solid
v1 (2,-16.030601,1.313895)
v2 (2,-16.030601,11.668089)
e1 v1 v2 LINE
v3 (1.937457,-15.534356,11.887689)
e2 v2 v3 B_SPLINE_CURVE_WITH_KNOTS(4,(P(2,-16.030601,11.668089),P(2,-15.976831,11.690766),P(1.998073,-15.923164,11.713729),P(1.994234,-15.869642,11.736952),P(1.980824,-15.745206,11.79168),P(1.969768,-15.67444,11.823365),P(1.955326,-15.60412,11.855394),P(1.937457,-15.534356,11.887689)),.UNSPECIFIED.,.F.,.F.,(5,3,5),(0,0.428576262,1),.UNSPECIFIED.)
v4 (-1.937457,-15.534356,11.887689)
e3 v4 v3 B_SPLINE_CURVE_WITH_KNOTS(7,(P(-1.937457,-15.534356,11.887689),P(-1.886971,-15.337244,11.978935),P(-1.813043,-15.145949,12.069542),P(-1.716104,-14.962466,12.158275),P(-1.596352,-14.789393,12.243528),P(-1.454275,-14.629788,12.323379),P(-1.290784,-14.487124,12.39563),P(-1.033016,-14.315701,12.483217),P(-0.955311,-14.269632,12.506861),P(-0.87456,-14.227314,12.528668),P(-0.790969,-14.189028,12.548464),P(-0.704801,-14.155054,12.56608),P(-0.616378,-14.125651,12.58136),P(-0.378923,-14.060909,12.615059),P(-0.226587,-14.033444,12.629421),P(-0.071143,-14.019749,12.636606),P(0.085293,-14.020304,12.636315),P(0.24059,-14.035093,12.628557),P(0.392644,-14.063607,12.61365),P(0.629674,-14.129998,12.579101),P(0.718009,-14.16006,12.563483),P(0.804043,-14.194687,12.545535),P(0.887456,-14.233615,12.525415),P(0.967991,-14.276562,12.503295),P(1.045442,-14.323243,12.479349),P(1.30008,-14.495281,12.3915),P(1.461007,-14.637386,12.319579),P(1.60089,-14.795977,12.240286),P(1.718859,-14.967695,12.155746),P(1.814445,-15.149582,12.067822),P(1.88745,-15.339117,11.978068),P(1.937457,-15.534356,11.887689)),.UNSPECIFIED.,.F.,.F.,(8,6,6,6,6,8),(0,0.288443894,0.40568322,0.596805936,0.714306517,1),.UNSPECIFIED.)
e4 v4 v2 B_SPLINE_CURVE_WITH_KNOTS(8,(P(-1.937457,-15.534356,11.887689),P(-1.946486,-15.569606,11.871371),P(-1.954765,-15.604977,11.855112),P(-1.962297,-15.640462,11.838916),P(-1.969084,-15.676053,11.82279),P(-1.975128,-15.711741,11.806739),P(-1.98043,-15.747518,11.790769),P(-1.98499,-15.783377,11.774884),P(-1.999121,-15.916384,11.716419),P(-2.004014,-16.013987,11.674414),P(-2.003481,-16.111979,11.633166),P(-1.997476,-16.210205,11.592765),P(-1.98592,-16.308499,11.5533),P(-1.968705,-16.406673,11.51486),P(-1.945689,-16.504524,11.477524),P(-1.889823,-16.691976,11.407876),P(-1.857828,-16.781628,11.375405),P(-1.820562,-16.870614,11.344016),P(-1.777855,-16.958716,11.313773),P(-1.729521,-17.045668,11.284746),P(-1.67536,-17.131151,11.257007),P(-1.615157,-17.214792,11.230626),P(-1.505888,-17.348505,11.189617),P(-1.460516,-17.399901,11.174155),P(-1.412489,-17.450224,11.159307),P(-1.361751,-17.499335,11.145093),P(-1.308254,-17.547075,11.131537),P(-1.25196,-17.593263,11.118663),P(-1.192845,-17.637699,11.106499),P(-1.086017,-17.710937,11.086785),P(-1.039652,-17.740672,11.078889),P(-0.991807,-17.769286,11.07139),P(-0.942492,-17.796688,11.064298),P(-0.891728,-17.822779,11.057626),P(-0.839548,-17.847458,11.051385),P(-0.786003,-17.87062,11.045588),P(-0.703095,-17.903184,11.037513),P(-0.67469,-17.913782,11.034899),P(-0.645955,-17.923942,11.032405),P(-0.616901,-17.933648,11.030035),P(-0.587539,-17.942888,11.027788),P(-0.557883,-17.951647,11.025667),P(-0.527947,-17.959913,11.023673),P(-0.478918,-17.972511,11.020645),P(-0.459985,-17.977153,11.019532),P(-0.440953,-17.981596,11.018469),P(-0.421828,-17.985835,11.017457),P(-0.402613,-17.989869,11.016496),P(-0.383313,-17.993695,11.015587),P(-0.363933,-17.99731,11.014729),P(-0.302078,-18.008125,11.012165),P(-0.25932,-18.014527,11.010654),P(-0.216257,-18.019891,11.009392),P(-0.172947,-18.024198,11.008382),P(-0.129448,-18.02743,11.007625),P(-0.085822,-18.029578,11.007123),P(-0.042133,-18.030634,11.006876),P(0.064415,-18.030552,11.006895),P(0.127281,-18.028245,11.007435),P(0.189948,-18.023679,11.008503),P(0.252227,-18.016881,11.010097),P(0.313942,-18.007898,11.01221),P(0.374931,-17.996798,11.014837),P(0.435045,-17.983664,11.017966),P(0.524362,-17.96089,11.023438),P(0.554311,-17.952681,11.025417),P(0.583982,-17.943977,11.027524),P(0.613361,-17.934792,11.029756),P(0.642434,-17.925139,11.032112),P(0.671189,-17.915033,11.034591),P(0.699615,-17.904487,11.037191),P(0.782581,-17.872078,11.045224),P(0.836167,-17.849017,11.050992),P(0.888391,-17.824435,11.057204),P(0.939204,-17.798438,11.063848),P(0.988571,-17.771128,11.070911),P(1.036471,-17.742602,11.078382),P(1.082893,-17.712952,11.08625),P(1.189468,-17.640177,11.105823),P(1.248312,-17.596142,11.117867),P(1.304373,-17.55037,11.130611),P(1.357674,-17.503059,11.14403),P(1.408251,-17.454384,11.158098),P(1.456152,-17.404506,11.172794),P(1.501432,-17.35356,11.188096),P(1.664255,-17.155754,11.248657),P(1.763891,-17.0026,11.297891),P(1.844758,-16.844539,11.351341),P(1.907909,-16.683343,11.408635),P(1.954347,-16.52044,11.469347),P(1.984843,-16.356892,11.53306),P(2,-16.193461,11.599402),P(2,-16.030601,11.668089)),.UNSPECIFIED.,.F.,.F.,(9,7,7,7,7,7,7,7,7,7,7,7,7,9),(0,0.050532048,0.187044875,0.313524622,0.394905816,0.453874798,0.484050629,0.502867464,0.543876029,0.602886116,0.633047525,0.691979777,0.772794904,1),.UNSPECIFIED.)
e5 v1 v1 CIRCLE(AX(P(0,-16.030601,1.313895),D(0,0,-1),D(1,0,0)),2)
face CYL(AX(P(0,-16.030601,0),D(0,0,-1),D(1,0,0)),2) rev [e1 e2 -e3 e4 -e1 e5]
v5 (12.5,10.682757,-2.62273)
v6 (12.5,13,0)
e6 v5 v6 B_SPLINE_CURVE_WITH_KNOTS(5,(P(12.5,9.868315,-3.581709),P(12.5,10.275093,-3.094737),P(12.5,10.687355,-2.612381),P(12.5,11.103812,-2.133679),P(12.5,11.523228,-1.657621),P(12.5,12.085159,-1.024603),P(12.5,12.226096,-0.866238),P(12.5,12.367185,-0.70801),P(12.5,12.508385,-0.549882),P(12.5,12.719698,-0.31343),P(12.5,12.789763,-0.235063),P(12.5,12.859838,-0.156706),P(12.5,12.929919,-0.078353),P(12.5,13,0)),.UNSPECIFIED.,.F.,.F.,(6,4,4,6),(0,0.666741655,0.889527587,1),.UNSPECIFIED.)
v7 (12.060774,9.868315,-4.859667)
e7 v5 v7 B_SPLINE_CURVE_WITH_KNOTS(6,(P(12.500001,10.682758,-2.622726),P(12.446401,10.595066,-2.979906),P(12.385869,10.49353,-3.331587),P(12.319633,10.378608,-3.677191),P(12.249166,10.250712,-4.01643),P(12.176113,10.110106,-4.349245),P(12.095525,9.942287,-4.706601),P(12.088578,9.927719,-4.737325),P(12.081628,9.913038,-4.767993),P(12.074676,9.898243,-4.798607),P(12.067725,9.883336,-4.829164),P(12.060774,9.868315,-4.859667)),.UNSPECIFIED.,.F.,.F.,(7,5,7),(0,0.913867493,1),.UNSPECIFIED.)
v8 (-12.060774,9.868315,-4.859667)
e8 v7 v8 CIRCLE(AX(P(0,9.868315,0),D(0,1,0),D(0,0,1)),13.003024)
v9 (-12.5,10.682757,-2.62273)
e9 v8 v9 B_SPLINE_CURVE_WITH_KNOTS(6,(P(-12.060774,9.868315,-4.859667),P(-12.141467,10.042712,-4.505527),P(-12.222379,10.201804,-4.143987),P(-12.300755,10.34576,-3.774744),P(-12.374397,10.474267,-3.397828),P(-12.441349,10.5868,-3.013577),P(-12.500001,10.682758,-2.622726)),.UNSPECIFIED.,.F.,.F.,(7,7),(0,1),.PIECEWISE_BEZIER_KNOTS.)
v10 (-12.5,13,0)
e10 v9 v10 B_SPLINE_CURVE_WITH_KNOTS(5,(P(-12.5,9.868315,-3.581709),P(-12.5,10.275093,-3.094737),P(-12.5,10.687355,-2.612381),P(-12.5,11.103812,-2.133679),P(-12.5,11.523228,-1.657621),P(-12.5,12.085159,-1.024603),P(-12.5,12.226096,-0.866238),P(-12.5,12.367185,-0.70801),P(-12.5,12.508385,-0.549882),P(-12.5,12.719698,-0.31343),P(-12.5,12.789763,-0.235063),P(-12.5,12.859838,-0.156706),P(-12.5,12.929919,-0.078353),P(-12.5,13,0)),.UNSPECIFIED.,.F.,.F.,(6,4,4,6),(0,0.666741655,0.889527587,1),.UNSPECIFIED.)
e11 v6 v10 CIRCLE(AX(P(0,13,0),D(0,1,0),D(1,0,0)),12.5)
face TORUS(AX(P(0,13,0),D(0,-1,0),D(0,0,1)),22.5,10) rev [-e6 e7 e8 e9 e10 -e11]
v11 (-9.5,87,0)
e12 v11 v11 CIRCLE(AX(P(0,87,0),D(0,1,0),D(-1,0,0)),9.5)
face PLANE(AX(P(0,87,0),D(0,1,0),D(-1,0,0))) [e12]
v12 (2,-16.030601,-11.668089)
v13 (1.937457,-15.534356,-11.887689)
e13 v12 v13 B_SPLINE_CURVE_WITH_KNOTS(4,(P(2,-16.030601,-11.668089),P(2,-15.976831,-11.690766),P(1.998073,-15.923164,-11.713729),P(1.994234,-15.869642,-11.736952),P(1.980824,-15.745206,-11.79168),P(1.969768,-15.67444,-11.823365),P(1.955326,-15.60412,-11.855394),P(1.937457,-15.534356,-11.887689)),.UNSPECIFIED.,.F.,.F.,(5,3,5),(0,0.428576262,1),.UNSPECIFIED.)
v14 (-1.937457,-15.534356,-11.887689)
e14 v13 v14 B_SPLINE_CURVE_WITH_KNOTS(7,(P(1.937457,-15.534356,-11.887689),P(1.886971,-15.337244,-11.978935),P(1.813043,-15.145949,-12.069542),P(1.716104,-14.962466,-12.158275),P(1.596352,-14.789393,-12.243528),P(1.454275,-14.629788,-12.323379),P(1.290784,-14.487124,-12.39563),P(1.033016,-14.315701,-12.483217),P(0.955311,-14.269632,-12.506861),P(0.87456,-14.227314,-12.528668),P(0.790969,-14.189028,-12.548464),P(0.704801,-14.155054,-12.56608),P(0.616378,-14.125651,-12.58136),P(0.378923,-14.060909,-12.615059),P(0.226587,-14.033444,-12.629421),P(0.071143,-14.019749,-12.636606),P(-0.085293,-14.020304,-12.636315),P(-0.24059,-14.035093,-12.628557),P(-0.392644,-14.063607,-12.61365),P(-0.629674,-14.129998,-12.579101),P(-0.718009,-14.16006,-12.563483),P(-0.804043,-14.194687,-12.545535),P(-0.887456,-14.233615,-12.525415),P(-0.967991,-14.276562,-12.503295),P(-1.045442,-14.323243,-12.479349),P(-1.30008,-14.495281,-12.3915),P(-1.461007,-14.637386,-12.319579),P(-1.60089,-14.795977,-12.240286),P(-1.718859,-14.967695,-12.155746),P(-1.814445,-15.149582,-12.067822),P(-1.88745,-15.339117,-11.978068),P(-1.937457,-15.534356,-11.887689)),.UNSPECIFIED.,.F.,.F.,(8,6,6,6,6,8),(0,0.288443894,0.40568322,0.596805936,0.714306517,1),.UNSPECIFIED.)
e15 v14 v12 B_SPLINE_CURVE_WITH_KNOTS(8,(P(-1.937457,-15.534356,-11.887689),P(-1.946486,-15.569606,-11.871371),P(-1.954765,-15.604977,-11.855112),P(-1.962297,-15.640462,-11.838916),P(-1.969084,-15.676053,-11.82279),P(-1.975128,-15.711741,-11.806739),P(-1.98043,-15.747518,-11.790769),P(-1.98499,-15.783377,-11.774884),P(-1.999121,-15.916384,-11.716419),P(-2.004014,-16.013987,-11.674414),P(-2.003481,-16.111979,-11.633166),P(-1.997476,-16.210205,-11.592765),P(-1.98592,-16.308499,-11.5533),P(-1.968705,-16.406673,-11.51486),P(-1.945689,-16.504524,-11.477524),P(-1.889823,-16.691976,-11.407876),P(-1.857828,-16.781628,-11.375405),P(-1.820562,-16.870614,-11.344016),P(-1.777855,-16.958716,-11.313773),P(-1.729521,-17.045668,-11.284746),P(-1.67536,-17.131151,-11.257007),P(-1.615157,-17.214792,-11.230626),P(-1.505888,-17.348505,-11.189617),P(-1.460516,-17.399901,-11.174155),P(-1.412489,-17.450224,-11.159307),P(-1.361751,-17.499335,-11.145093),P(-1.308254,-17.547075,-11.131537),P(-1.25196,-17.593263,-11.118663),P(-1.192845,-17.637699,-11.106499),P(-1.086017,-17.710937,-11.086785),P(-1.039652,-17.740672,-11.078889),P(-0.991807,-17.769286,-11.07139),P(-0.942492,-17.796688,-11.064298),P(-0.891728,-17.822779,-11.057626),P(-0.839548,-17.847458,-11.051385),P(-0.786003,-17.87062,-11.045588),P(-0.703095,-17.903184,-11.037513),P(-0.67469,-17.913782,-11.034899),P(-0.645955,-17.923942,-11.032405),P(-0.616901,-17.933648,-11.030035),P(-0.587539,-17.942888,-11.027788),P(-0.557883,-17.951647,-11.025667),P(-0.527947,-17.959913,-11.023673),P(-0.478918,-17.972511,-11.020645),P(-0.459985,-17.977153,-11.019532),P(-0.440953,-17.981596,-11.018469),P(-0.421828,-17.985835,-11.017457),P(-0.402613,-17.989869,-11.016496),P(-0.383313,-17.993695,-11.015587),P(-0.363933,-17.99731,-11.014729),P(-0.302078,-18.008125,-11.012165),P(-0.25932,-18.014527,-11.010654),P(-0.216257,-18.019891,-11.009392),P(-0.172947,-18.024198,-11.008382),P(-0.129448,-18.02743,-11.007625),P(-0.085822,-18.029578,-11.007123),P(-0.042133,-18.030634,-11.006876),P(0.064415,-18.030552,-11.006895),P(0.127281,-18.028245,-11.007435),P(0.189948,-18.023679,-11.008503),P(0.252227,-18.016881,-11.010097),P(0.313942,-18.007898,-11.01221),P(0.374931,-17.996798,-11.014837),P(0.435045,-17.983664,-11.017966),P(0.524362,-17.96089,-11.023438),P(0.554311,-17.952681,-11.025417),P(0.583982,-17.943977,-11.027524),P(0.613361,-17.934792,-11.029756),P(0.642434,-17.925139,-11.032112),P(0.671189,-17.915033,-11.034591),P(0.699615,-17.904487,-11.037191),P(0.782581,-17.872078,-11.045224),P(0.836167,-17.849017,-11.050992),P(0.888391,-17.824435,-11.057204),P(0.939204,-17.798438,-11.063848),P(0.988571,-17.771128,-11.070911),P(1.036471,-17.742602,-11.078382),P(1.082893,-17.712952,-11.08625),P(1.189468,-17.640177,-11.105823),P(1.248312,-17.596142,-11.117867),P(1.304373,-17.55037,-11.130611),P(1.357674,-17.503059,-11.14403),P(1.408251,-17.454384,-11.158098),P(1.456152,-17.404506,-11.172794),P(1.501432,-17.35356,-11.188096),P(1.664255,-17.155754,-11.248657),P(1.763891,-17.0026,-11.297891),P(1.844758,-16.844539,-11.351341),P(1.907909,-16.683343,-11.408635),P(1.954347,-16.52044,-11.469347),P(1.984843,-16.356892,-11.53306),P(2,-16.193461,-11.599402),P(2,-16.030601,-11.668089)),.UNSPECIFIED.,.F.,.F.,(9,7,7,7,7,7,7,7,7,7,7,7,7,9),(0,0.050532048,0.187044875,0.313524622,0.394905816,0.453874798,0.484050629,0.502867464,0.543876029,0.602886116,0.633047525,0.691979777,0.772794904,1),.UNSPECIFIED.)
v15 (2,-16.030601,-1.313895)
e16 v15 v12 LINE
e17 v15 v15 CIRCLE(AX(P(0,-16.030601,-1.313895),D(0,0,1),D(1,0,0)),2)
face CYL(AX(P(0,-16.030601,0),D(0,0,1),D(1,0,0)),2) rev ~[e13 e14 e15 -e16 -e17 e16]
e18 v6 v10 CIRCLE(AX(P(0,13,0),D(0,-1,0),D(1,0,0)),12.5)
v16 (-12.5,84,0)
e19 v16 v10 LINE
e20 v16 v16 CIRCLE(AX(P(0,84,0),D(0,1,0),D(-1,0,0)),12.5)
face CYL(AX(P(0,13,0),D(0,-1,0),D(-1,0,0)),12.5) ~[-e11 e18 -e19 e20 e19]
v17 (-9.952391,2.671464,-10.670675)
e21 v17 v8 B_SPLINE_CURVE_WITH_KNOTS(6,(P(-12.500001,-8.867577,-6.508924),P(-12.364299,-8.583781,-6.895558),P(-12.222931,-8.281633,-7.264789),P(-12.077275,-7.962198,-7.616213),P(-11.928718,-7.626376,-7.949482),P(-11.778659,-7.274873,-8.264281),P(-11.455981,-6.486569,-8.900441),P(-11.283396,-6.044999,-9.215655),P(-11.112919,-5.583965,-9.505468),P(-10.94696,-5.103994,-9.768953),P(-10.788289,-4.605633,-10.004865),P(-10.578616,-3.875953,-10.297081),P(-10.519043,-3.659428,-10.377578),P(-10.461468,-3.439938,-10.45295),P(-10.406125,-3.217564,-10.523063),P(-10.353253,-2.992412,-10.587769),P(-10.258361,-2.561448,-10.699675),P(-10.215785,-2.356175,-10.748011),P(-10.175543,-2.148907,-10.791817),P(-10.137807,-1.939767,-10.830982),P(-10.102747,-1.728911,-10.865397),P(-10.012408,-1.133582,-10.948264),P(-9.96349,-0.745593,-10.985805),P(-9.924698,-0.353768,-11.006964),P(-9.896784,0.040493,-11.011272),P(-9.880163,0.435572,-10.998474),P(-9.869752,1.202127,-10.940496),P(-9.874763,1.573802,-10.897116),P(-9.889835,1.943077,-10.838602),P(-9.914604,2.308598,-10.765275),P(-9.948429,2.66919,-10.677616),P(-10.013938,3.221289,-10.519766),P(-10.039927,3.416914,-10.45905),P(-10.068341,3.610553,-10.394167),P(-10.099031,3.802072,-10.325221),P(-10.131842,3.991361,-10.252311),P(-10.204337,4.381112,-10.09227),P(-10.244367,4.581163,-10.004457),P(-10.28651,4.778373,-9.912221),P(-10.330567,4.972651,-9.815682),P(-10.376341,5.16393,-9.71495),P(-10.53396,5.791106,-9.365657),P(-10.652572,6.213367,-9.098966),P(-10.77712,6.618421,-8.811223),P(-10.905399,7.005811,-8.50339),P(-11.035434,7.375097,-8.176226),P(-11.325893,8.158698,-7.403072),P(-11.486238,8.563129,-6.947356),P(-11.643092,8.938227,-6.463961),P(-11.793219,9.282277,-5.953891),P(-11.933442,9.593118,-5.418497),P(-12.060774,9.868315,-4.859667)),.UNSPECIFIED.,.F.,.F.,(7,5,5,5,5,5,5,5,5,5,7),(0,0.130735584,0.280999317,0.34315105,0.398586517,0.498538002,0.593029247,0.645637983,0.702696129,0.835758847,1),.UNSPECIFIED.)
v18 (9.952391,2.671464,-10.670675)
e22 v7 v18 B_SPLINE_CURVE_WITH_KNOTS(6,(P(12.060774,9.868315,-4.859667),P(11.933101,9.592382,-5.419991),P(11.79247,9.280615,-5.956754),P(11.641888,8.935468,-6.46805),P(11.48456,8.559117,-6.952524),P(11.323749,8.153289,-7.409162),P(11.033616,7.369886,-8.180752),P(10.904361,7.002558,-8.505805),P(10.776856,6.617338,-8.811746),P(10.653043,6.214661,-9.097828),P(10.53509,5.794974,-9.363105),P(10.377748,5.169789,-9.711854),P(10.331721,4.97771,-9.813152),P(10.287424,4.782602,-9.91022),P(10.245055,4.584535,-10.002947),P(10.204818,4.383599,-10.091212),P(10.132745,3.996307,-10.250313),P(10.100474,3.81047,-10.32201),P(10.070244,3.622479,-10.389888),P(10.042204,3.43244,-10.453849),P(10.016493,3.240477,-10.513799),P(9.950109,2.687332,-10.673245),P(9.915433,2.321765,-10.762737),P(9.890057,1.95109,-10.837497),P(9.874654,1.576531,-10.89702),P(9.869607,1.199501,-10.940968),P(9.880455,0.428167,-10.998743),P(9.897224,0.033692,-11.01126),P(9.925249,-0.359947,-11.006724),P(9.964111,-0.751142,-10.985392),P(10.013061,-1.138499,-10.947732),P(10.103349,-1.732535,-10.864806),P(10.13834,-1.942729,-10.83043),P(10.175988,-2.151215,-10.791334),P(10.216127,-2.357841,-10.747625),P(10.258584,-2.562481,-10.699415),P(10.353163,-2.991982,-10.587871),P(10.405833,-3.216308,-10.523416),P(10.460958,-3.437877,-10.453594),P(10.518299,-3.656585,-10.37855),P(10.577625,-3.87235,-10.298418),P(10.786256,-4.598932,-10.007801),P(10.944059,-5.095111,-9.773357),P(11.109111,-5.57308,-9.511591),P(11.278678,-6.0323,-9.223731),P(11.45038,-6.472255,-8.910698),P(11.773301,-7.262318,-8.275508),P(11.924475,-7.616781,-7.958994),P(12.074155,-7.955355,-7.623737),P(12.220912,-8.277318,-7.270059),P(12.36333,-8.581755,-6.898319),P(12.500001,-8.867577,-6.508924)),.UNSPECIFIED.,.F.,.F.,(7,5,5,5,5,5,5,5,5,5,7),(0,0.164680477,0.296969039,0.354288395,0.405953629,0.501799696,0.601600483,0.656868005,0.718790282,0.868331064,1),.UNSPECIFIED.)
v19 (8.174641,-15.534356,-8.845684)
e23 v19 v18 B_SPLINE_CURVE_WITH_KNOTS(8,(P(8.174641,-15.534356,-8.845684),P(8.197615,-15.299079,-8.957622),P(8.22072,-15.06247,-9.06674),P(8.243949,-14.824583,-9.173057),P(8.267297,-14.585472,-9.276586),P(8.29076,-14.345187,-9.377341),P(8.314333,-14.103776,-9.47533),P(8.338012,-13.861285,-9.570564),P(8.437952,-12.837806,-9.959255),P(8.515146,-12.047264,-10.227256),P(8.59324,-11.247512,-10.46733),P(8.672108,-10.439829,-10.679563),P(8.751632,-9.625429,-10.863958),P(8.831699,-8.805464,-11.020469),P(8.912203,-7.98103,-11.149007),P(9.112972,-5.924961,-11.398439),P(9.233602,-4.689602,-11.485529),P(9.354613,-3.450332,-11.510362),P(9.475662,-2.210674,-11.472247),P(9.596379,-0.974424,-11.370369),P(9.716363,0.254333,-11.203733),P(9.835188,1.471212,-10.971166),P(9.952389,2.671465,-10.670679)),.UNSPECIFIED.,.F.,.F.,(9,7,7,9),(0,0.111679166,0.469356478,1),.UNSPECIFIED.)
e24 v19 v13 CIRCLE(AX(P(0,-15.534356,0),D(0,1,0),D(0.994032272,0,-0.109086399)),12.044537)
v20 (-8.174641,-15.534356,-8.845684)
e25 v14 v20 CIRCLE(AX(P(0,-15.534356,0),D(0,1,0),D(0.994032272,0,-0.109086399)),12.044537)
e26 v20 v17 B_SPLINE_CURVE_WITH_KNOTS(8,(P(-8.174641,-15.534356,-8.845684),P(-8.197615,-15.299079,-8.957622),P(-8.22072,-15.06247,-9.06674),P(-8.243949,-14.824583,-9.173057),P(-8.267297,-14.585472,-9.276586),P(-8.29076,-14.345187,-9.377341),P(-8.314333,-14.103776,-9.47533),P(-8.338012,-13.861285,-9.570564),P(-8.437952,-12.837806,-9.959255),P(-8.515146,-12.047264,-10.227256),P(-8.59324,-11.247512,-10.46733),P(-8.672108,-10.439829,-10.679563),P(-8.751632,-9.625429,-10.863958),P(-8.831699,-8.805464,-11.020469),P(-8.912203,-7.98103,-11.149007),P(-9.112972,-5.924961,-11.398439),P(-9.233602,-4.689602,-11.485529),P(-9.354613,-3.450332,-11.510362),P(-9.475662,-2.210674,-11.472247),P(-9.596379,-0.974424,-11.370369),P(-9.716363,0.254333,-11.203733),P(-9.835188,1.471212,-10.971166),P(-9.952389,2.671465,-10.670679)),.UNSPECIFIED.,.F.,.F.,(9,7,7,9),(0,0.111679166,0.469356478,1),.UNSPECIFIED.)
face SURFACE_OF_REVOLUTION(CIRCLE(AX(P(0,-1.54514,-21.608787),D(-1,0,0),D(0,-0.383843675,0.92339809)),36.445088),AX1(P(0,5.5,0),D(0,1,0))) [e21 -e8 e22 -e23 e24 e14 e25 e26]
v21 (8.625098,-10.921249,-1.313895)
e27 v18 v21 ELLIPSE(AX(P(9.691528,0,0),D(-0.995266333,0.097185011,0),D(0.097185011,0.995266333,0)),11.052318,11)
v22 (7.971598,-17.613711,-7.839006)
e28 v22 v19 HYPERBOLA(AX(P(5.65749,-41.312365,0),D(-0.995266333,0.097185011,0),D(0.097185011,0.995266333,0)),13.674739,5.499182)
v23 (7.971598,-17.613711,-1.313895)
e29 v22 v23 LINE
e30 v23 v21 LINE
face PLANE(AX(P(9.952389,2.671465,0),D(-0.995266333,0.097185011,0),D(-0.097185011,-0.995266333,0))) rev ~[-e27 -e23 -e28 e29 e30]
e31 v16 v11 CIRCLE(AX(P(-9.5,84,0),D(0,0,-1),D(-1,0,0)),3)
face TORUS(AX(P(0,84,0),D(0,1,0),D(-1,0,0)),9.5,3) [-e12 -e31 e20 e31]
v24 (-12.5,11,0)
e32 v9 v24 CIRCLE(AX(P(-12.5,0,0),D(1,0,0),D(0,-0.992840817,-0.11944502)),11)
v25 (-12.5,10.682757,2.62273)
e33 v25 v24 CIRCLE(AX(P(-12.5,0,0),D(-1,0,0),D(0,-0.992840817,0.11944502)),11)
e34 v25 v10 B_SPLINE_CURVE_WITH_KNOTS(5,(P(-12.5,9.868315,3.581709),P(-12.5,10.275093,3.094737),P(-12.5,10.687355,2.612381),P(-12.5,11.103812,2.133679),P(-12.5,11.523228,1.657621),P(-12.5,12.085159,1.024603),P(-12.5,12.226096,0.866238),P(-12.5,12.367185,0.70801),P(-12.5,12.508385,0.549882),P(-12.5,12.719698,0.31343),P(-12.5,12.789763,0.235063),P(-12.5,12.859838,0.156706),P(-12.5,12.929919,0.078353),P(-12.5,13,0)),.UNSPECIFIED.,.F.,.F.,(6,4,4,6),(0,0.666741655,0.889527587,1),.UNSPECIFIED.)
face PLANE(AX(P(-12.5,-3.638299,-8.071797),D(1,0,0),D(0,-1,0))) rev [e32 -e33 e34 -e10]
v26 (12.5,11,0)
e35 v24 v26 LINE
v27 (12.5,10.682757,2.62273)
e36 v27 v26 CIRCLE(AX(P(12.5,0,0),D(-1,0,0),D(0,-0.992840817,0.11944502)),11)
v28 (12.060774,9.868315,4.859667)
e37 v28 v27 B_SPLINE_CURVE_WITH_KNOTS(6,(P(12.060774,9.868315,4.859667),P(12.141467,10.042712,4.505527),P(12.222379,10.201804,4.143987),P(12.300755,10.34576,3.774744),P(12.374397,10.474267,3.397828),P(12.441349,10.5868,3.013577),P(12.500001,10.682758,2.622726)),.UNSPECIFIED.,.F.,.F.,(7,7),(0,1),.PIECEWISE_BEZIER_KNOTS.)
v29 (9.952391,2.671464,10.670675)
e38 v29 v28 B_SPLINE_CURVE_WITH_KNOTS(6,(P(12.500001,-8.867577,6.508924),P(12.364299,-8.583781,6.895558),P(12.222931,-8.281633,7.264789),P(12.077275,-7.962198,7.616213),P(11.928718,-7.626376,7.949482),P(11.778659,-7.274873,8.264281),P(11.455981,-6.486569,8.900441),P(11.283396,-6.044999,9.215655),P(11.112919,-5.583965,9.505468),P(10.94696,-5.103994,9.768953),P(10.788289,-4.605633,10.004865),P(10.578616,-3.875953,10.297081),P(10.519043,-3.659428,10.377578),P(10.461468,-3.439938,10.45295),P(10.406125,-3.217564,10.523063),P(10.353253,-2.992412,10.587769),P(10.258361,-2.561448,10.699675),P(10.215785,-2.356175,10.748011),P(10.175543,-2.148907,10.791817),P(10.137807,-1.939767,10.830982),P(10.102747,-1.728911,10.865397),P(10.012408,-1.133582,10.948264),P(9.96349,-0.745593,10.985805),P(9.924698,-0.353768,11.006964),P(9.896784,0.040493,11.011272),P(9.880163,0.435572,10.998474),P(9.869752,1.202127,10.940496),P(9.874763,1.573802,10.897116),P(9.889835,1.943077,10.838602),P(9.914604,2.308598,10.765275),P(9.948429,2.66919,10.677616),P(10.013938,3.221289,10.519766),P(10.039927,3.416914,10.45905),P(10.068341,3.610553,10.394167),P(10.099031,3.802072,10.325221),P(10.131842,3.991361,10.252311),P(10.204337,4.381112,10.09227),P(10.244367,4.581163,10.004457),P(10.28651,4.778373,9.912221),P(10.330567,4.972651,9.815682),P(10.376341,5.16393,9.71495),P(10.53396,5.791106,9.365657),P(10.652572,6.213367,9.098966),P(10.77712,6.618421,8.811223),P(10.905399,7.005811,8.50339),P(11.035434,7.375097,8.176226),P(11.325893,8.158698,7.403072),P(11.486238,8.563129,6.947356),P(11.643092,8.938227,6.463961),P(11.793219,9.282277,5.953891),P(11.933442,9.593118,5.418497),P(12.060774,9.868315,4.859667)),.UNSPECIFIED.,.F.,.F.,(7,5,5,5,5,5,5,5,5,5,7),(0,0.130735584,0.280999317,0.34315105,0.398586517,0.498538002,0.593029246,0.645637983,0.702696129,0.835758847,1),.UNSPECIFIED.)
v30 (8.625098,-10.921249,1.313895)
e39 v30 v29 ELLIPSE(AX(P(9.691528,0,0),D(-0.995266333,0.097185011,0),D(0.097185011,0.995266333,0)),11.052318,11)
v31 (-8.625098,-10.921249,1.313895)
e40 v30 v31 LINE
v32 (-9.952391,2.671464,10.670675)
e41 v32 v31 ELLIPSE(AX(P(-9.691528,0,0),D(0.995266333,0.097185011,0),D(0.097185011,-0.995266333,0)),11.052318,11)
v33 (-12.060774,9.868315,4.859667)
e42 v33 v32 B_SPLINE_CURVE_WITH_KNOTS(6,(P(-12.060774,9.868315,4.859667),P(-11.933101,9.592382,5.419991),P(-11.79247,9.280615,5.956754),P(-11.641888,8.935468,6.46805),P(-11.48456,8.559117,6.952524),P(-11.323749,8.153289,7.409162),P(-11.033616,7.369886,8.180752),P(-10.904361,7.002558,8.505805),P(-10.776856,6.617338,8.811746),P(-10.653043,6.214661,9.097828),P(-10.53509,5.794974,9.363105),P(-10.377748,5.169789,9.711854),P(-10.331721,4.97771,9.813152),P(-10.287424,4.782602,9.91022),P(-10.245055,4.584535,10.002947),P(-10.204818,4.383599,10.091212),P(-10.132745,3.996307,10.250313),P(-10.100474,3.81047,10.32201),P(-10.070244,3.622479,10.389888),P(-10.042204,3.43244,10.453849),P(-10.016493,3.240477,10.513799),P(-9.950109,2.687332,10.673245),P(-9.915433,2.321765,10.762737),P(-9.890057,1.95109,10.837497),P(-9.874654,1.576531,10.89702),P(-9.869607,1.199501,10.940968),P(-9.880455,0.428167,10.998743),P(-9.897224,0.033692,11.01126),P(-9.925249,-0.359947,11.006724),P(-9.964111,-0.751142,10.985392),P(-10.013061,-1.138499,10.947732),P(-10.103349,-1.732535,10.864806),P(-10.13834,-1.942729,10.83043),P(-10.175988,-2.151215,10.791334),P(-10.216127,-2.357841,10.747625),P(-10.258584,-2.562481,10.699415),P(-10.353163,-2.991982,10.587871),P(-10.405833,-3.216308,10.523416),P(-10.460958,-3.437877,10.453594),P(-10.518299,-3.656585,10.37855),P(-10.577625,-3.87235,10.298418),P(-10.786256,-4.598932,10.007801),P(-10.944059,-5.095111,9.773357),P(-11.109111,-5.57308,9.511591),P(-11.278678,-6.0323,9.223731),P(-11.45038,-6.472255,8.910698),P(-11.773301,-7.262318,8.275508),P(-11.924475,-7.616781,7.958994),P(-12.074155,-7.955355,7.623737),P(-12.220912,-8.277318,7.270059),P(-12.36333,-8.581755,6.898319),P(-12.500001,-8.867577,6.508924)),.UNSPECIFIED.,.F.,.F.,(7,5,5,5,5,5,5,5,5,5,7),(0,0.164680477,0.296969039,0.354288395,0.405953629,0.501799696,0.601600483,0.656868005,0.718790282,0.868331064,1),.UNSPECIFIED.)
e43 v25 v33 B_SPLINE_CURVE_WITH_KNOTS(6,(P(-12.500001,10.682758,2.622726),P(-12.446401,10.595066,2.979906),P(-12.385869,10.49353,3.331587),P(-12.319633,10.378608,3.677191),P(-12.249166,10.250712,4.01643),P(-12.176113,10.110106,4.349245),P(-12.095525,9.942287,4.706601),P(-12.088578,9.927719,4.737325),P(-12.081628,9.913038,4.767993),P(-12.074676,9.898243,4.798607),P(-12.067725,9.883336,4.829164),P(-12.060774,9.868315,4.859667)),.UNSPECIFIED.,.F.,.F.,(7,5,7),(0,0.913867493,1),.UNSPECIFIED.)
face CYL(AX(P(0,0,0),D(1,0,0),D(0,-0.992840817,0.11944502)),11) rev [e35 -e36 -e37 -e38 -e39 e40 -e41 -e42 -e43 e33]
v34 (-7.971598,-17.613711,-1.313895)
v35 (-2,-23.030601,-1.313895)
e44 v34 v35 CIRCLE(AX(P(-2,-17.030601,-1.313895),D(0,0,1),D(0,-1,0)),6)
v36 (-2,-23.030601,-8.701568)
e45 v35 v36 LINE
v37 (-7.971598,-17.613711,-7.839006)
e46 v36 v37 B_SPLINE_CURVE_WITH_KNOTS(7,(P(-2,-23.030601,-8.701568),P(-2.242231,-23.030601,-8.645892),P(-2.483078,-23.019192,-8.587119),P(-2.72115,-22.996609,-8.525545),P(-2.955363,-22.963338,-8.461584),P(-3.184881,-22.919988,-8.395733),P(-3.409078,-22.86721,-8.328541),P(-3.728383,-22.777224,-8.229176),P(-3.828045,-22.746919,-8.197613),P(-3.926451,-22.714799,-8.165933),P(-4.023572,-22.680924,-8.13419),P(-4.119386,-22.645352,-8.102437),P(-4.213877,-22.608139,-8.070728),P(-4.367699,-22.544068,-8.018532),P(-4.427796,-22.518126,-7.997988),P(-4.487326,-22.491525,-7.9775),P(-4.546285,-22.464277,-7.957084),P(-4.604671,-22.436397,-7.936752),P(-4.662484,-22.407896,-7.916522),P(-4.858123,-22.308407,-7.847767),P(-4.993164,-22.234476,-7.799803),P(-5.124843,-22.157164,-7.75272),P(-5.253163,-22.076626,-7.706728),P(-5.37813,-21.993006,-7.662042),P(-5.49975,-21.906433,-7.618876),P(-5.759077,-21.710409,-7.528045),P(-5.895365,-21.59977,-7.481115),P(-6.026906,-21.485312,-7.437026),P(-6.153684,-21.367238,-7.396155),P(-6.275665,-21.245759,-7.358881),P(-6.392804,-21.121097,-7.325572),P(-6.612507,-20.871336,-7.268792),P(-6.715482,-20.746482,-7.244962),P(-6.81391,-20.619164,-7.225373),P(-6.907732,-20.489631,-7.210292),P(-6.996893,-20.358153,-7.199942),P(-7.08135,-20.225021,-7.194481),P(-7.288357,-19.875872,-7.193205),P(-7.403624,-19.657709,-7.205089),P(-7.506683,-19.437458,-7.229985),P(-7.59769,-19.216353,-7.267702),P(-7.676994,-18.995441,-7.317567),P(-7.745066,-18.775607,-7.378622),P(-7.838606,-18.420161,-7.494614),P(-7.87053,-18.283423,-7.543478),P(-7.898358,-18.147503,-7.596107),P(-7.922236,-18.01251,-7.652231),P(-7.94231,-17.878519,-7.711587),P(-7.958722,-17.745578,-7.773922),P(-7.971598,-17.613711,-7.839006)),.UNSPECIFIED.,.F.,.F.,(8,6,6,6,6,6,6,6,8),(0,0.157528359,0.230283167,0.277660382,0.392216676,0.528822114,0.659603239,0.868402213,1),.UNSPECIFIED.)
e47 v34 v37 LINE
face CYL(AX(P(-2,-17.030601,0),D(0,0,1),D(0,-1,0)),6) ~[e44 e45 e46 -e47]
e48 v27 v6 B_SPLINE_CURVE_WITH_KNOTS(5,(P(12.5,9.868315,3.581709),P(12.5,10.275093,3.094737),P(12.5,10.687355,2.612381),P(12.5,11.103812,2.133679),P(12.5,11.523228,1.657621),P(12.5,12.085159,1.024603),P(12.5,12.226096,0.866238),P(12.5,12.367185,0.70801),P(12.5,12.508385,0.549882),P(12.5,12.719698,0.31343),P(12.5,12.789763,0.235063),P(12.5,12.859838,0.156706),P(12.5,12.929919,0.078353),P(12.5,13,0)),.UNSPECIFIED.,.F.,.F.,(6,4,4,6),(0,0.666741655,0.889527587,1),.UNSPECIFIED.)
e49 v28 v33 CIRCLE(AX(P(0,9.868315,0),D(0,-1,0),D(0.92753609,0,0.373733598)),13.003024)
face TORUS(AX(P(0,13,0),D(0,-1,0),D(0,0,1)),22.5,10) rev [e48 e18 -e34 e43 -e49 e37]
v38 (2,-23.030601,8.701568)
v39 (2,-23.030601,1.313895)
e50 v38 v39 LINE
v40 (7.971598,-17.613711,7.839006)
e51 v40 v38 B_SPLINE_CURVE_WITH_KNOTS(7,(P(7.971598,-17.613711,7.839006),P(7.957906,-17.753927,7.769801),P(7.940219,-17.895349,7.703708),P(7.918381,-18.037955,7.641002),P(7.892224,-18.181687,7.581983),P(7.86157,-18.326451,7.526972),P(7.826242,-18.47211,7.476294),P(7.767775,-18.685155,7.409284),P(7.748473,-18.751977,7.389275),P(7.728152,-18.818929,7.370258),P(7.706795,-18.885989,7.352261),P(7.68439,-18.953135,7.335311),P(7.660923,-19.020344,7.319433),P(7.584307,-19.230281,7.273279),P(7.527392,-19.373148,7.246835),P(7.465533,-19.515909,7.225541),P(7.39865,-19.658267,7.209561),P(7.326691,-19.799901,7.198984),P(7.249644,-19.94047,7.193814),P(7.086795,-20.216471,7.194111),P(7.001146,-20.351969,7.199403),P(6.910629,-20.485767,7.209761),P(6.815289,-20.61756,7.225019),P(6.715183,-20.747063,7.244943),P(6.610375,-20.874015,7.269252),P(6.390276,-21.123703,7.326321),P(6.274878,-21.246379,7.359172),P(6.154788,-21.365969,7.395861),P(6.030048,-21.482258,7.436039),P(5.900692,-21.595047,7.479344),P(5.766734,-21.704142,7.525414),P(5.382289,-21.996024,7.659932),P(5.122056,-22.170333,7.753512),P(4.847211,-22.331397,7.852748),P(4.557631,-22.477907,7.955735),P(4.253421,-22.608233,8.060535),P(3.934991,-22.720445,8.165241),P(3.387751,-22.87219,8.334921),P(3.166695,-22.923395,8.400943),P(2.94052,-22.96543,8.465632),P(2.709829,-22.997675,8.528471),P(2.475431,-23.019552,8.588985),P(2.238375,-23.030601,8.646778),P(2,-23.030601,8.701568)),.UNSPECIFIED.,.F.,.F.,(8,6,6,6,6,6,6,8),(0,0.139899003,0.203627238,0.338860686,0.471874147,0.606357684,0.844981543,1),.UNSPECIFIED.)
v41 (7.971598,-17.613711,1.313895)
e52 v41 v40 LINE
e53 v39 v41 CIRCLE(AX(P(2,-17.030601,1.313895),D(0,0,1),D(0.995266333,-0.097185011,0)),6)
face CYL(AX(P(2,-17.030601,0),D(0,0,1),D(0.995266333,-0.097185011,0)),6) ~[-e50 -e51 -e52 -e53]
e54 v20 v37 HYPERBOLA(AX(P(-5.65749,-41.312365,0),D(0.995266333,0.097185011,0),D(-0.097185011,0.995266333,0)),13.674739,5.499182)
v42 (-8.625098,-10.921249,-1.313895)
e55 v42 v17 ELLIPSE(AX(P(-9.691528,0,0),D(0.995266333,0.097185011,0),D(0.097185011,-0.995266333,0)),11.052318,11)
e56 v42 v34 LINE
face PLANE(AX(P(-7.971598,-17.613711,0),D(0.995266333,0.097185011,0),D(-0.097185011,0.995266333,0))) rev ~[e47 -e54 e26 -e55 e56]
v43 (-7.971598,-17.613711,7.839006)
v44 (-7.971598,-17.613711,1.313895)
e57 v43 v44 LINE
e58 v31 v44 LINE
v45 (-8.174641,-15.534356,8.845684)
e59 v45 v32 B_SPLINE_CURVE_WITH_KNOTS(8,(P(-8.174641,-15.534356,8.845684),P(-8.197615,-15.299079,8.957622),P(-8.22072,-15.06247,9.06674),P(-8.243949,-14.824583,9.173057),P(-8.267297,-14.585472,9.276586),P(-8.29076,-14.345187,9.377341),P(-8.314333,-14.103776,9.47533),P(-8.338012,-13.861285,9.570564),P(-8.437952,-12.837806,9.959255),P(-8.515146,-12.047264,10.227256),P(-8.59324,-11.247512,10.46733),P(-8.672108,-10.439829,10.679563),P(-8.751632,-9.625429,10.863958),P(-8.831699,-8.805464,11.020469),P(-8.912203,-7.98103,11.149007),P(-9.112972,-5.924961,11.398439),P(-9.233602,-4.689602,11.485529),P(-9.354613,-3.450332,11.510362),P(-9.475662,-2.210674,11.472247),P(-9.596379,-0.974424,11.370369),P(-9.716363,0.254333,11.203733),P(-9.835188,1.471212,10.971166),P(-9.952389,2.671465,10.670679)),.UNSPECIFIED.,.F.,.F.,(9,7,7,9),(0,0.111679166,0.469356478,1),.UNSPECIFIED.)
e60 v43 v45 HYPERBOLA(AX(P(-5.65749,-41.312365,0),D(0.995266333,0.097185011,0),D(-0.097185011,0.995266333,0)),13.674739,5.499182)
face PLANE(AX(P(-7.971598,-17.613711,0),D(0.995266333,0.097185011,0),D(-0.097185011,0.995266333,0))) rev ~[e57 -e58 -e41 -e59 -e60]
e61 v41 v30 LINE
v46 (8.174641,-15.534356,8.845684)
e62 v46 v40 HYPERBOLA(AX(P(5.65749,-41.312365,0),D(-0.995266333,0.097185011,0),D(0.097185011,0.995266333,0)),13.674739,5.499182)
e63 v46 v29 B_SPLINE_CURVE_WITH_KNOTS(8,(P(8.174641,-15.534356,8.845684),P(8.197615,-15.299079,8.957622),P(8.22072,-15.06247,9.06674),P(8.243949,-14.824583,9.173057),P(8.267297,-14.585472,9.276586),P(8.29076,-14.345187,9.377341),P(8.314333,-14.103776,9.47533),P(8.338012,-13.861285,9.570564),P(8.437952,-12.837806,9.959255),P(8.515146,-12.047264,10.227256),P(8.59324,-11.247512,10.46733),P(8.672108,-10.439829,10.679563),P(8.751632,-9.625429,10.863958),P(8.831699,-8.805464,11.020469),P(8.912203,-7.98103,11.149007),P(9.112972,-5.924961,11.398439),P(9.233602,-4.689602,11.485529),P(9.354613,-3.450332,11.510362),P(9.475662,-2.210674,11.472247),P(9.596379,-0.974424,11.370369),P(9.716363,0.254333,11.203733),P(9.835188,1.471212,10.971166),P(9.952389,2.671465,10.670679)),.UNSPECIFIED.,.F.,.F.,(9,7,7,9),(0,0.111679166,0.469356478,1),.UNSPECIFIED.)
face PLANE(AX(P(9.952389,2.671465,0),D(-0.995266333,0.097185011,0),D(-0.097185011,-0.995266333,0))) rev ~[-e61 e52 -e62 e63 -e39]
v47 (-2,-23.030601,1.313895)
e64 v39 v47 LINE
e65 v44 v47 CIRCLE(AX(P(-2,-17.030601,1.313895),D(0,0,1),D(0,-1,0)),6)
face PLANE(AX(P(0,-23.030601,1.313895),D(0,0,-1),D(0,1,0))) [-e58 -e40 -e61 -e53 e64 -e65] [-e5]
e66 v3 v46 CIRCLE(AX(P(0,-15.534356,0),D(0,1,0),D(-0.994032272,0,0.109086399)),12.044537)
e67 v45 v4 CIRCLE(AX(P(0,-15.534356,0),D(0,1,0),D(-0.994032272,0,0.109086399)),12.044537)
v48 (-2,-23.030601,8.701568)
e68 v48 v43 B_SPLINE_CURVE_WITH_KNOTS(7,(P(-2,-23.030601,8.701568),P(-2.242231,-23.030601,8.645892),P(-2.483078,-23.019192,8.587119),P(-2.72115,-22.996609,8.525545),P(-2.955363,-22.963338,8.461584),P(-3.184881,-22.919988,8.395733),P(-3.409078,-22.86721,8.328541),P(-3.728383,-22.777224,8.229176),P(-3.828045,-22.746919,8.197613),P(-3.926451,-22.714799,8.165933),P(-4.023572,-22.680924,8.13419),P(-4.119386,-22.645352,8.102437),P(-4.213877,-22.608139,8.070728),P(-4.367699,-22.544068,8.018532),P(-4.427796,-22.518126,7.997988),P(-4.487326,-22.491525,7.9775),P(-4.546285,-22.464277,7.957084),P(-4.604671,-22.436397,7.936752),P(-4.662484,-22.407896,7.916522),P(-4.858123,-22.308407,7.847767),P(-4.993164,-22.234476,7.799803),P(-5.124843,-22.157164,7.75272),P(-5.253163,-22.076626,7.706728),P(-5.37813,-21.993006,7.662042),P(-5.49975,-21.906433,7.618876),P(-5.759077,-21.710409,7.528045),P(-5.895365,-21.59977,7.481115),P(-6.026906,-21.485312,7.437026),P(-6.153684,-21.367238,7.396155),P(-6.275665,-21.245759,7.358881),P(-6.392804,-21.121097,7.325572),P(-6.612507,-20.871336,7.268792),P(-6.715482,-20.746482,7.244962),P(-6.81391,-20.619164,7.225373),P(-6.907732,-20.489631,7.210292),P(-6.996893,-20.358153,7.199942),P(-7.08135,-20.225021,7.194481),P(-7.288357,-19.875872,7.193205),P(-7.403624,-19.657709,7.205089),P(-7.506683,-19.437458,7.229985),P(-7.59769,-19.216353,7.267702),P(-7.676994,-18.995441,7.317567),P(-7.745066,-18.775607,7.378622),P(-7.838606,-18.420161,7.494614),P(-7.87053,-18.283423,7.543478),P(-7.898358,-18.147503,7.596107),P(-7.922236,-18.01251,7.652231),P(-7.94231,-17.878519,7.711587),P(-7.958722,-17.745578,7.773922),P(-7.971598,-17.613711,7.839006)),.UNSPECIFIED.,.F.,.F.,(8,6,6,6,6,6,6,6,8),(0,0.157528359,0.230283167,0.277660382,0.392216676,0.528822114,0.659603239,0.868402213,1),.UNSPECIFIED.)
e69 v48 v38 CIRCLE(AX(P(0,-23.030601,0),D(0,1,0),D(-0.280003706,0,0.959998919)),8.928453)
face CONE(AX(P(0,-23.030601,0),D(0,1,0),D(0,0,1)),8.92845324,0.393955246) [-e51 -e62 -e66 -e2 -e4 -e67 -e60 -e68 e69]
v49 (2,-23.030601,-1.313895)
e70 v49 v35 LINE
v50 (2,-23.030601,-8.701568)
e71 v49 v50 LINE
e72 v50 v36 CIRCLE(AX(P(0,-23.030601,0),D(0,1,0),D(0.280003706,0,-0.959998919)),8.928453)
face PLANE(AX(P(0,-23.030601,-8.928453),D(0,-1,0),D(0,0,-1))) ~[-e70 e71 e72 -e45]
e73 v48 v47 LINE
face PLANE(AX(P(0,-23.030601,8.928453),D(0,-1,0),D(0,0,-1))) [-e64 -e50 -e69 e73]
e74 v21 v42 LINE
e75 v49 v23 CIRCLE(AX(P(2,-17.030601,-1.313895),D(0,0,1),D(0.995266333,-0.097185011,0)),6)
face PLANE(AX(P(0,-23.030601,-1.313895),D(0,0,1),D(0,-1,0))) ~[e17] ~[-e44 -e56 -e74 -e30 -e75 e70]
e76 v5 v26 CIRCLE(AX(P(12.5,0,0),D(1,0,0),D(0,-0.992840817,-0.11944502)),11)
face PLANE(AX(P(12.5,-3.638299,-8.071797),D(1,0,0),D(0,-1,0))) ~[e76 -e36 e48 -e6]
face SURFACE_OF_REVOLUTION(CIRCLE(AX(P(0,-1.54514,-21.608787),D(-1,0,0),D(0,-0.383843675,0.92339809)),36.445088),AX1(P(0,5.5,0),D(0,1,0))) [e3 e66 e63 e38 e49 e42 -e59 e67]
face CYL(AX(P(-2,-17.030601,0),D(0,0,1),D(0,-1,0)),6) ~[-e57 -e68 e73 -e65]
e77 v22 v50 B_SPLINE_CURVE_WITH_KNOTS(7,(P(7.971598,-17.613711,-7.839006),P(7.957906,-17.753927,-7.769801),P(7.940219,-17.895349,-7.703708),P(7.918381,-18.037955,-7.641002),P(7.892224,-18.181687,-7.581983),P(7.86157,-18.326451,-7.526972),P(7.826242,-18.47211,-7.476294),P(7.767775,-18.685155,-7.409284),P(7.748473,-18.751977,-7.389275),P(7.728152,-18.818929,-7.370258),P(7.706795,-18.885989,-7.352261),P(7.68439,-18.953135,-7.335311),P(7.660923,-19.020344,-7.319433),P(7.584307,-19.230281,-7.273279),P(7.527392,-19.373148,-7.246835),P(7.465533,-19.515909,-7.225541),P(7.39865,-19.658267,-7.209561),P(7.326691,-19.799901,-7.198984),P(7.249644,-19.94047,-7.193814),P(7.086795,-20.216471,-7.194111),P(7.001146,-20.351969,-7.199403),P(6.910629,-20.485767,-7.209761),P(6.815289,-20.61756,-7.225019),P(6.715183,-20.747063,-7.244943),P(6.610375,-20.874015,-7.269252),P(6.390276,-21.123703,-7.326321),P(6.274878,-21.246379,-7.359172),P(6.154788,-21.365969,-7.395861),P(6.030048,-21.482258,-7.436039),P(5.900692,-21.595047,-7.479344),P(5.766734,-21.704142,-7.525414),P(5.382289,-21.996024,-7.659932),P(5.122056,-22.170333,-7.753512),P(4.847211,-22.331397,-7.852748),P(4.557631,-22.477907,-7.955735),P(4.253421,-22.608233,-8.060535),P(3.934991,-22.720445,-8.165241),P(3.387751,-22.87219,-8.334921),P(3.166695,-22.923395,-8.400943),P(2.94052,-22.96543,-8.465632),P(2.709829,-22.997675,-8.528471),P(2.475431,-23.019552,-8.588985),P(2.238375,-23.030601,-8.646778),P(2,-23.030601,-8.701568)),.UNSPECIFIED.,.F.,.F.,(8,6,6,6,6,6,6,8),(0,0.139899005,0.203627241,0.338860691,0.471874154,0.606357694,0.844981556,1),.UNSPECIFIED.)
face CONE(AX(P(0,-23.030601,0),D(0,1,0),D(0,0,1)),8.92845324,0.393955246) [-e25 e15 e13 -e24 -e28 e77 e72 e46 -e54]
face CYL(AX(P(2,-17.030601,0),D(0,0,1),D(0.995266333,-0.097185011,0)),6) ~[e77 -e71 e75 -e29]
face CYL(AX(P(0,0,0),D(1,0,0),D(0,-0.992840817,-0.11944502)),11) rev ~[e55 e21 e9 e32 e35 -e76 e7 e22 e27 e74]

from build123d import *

# Parameters (mm, degrees)
F1_DEPTH = 12.5
F3_R     = 12.5
F4_DEPTH = 74
F5_R     = 10
F8_R     = 2
F9_DEPTH = 25
F10_R    = 3


with BuildPart() as f1:
    # F0 (on Right) → F1 (new body, symmetric)
    with BuildSketch(Plane.YZ):
        with BuildLine():
            ThreePointArc((-10.9212489831, 1.3138952199), (0.6581265782, 10.9802945956), (11, 0))
            Line((11, 0), (13, 0))
            Line((13, 0), (13, 12.5))
            ThreePointArc((13, 12.5), (-1.3107386008, 15.0012988608), (-15.5343561829, 12.0445374281))
            Line((-15.5343561829, 12.0445374281), (-23.0306010843, 8.9284532397))
            Line((-23.0306010843, 8.9284532397), (-23.0306010843, 1.3138952199))
            Line((-23.0306010843, 1.3138952199), (-10.9212489831, 1.3138952199))
        make_face()
    extrude(amount=F1_DEPTH, both=True)

    # F2: F1 across plane


with BuildPart() as f1_1:
    add(f1.part)
    add(f1.part.mirror(Plane.XY))

    # F3 (on face) → F4 (join)
    with BuildSketch(Plane(origin=(0, 13, 0), x_dir=(-1, 0, 0), z_dir=(0, 1, 0))):
        Circle(F3_R)
    extrude(amount=F4_DEPTH)

    # F5
    f5_edges = [f1_1.edges().sort_by_distance(p)[0] for p in [
        (12.5, -23.030601, 5.121174),
        (-12.5, -23.030601, 5.121174),
        (-12.5, -23.030601, -5.121174),
        (12.5, -23.030601, -5.121174),
    ]]
    fillet(f5_edges, radius=F5_R)

    # F6 (on Right) → F7 (revolve, cut)
    with BuildSketch(Plane.YZ):
        with BuildLine():
            ThreePointArc((9.8683147581, 13.0030242948), (11.414086549, 12.6265569062), (13, 12.5))
            Line((13, 12.5), (46, 12.5))
            Line((46, 12.5), (46, 22.5))
            Line((46, 22.5), (-23.0306010843, 22.5))
            Line((-23.0306010843, 22.5), (-23.0306010843, 8.9284532397))
            Line((-23.0306010843, 8.9284532397), (-15.5343561829, 12.0445374281))
            ThreePointArc((-15.5343561829, 12.0445374281), (-2.9192982664, 14.8103852911), (9.8683147581, 13.0030242948))
        make_face()
    revolve(axis=Axis((0, 5.5, 0), (0, 1, 0)), mode=Mode.SUBTRACT)

    # F8 (on Top) → F9 (cut, symmetric)
    with BuildSketch(Plane.XY):
        with Locations((0, -16.0306010843)):
            Circle(F8_R)
        with BuildLine():
            Line((-7.971597998, -17.6137111518), (-9.9523894576, 2.6714647925))
            Line((-9.9523894576, 2.6714647925), (-25, 0))
            Line((-25, 0), (-25, -50))
            Line((-25, -50), (25, -50))
            Line((25, -50), (25, 0))
            Line((25, 0), (9.9523894576, 2.6714647925))
            Line((9.9523894576, 2.6714647925), (7.971597998, -17.6137111518))
            ThreePointArc((7.971597998, -17.6137111518), (6.0312119514, -21.4746229342), (2, -23.0306010843))
            Line((2, -23.0306010843), (-2, -23.0306010843))
            ThreePointArc((-2, -23.0306010843), (-6.0312119514, -21.4746229342), (-7.971597998, -17.6137111518))
        make_face()
    extrude(amount=F9_DEPTH, both=True, mode=Mode.SUBTRACT)

    # F10
    f10_edges = [f1_1.edges().sort_by_distance(p)[0] for p in [
        (12.5, 87, 0),
    ]]
    fillet(f10_edges, radius=F10_R)


solid = f1_1.part
